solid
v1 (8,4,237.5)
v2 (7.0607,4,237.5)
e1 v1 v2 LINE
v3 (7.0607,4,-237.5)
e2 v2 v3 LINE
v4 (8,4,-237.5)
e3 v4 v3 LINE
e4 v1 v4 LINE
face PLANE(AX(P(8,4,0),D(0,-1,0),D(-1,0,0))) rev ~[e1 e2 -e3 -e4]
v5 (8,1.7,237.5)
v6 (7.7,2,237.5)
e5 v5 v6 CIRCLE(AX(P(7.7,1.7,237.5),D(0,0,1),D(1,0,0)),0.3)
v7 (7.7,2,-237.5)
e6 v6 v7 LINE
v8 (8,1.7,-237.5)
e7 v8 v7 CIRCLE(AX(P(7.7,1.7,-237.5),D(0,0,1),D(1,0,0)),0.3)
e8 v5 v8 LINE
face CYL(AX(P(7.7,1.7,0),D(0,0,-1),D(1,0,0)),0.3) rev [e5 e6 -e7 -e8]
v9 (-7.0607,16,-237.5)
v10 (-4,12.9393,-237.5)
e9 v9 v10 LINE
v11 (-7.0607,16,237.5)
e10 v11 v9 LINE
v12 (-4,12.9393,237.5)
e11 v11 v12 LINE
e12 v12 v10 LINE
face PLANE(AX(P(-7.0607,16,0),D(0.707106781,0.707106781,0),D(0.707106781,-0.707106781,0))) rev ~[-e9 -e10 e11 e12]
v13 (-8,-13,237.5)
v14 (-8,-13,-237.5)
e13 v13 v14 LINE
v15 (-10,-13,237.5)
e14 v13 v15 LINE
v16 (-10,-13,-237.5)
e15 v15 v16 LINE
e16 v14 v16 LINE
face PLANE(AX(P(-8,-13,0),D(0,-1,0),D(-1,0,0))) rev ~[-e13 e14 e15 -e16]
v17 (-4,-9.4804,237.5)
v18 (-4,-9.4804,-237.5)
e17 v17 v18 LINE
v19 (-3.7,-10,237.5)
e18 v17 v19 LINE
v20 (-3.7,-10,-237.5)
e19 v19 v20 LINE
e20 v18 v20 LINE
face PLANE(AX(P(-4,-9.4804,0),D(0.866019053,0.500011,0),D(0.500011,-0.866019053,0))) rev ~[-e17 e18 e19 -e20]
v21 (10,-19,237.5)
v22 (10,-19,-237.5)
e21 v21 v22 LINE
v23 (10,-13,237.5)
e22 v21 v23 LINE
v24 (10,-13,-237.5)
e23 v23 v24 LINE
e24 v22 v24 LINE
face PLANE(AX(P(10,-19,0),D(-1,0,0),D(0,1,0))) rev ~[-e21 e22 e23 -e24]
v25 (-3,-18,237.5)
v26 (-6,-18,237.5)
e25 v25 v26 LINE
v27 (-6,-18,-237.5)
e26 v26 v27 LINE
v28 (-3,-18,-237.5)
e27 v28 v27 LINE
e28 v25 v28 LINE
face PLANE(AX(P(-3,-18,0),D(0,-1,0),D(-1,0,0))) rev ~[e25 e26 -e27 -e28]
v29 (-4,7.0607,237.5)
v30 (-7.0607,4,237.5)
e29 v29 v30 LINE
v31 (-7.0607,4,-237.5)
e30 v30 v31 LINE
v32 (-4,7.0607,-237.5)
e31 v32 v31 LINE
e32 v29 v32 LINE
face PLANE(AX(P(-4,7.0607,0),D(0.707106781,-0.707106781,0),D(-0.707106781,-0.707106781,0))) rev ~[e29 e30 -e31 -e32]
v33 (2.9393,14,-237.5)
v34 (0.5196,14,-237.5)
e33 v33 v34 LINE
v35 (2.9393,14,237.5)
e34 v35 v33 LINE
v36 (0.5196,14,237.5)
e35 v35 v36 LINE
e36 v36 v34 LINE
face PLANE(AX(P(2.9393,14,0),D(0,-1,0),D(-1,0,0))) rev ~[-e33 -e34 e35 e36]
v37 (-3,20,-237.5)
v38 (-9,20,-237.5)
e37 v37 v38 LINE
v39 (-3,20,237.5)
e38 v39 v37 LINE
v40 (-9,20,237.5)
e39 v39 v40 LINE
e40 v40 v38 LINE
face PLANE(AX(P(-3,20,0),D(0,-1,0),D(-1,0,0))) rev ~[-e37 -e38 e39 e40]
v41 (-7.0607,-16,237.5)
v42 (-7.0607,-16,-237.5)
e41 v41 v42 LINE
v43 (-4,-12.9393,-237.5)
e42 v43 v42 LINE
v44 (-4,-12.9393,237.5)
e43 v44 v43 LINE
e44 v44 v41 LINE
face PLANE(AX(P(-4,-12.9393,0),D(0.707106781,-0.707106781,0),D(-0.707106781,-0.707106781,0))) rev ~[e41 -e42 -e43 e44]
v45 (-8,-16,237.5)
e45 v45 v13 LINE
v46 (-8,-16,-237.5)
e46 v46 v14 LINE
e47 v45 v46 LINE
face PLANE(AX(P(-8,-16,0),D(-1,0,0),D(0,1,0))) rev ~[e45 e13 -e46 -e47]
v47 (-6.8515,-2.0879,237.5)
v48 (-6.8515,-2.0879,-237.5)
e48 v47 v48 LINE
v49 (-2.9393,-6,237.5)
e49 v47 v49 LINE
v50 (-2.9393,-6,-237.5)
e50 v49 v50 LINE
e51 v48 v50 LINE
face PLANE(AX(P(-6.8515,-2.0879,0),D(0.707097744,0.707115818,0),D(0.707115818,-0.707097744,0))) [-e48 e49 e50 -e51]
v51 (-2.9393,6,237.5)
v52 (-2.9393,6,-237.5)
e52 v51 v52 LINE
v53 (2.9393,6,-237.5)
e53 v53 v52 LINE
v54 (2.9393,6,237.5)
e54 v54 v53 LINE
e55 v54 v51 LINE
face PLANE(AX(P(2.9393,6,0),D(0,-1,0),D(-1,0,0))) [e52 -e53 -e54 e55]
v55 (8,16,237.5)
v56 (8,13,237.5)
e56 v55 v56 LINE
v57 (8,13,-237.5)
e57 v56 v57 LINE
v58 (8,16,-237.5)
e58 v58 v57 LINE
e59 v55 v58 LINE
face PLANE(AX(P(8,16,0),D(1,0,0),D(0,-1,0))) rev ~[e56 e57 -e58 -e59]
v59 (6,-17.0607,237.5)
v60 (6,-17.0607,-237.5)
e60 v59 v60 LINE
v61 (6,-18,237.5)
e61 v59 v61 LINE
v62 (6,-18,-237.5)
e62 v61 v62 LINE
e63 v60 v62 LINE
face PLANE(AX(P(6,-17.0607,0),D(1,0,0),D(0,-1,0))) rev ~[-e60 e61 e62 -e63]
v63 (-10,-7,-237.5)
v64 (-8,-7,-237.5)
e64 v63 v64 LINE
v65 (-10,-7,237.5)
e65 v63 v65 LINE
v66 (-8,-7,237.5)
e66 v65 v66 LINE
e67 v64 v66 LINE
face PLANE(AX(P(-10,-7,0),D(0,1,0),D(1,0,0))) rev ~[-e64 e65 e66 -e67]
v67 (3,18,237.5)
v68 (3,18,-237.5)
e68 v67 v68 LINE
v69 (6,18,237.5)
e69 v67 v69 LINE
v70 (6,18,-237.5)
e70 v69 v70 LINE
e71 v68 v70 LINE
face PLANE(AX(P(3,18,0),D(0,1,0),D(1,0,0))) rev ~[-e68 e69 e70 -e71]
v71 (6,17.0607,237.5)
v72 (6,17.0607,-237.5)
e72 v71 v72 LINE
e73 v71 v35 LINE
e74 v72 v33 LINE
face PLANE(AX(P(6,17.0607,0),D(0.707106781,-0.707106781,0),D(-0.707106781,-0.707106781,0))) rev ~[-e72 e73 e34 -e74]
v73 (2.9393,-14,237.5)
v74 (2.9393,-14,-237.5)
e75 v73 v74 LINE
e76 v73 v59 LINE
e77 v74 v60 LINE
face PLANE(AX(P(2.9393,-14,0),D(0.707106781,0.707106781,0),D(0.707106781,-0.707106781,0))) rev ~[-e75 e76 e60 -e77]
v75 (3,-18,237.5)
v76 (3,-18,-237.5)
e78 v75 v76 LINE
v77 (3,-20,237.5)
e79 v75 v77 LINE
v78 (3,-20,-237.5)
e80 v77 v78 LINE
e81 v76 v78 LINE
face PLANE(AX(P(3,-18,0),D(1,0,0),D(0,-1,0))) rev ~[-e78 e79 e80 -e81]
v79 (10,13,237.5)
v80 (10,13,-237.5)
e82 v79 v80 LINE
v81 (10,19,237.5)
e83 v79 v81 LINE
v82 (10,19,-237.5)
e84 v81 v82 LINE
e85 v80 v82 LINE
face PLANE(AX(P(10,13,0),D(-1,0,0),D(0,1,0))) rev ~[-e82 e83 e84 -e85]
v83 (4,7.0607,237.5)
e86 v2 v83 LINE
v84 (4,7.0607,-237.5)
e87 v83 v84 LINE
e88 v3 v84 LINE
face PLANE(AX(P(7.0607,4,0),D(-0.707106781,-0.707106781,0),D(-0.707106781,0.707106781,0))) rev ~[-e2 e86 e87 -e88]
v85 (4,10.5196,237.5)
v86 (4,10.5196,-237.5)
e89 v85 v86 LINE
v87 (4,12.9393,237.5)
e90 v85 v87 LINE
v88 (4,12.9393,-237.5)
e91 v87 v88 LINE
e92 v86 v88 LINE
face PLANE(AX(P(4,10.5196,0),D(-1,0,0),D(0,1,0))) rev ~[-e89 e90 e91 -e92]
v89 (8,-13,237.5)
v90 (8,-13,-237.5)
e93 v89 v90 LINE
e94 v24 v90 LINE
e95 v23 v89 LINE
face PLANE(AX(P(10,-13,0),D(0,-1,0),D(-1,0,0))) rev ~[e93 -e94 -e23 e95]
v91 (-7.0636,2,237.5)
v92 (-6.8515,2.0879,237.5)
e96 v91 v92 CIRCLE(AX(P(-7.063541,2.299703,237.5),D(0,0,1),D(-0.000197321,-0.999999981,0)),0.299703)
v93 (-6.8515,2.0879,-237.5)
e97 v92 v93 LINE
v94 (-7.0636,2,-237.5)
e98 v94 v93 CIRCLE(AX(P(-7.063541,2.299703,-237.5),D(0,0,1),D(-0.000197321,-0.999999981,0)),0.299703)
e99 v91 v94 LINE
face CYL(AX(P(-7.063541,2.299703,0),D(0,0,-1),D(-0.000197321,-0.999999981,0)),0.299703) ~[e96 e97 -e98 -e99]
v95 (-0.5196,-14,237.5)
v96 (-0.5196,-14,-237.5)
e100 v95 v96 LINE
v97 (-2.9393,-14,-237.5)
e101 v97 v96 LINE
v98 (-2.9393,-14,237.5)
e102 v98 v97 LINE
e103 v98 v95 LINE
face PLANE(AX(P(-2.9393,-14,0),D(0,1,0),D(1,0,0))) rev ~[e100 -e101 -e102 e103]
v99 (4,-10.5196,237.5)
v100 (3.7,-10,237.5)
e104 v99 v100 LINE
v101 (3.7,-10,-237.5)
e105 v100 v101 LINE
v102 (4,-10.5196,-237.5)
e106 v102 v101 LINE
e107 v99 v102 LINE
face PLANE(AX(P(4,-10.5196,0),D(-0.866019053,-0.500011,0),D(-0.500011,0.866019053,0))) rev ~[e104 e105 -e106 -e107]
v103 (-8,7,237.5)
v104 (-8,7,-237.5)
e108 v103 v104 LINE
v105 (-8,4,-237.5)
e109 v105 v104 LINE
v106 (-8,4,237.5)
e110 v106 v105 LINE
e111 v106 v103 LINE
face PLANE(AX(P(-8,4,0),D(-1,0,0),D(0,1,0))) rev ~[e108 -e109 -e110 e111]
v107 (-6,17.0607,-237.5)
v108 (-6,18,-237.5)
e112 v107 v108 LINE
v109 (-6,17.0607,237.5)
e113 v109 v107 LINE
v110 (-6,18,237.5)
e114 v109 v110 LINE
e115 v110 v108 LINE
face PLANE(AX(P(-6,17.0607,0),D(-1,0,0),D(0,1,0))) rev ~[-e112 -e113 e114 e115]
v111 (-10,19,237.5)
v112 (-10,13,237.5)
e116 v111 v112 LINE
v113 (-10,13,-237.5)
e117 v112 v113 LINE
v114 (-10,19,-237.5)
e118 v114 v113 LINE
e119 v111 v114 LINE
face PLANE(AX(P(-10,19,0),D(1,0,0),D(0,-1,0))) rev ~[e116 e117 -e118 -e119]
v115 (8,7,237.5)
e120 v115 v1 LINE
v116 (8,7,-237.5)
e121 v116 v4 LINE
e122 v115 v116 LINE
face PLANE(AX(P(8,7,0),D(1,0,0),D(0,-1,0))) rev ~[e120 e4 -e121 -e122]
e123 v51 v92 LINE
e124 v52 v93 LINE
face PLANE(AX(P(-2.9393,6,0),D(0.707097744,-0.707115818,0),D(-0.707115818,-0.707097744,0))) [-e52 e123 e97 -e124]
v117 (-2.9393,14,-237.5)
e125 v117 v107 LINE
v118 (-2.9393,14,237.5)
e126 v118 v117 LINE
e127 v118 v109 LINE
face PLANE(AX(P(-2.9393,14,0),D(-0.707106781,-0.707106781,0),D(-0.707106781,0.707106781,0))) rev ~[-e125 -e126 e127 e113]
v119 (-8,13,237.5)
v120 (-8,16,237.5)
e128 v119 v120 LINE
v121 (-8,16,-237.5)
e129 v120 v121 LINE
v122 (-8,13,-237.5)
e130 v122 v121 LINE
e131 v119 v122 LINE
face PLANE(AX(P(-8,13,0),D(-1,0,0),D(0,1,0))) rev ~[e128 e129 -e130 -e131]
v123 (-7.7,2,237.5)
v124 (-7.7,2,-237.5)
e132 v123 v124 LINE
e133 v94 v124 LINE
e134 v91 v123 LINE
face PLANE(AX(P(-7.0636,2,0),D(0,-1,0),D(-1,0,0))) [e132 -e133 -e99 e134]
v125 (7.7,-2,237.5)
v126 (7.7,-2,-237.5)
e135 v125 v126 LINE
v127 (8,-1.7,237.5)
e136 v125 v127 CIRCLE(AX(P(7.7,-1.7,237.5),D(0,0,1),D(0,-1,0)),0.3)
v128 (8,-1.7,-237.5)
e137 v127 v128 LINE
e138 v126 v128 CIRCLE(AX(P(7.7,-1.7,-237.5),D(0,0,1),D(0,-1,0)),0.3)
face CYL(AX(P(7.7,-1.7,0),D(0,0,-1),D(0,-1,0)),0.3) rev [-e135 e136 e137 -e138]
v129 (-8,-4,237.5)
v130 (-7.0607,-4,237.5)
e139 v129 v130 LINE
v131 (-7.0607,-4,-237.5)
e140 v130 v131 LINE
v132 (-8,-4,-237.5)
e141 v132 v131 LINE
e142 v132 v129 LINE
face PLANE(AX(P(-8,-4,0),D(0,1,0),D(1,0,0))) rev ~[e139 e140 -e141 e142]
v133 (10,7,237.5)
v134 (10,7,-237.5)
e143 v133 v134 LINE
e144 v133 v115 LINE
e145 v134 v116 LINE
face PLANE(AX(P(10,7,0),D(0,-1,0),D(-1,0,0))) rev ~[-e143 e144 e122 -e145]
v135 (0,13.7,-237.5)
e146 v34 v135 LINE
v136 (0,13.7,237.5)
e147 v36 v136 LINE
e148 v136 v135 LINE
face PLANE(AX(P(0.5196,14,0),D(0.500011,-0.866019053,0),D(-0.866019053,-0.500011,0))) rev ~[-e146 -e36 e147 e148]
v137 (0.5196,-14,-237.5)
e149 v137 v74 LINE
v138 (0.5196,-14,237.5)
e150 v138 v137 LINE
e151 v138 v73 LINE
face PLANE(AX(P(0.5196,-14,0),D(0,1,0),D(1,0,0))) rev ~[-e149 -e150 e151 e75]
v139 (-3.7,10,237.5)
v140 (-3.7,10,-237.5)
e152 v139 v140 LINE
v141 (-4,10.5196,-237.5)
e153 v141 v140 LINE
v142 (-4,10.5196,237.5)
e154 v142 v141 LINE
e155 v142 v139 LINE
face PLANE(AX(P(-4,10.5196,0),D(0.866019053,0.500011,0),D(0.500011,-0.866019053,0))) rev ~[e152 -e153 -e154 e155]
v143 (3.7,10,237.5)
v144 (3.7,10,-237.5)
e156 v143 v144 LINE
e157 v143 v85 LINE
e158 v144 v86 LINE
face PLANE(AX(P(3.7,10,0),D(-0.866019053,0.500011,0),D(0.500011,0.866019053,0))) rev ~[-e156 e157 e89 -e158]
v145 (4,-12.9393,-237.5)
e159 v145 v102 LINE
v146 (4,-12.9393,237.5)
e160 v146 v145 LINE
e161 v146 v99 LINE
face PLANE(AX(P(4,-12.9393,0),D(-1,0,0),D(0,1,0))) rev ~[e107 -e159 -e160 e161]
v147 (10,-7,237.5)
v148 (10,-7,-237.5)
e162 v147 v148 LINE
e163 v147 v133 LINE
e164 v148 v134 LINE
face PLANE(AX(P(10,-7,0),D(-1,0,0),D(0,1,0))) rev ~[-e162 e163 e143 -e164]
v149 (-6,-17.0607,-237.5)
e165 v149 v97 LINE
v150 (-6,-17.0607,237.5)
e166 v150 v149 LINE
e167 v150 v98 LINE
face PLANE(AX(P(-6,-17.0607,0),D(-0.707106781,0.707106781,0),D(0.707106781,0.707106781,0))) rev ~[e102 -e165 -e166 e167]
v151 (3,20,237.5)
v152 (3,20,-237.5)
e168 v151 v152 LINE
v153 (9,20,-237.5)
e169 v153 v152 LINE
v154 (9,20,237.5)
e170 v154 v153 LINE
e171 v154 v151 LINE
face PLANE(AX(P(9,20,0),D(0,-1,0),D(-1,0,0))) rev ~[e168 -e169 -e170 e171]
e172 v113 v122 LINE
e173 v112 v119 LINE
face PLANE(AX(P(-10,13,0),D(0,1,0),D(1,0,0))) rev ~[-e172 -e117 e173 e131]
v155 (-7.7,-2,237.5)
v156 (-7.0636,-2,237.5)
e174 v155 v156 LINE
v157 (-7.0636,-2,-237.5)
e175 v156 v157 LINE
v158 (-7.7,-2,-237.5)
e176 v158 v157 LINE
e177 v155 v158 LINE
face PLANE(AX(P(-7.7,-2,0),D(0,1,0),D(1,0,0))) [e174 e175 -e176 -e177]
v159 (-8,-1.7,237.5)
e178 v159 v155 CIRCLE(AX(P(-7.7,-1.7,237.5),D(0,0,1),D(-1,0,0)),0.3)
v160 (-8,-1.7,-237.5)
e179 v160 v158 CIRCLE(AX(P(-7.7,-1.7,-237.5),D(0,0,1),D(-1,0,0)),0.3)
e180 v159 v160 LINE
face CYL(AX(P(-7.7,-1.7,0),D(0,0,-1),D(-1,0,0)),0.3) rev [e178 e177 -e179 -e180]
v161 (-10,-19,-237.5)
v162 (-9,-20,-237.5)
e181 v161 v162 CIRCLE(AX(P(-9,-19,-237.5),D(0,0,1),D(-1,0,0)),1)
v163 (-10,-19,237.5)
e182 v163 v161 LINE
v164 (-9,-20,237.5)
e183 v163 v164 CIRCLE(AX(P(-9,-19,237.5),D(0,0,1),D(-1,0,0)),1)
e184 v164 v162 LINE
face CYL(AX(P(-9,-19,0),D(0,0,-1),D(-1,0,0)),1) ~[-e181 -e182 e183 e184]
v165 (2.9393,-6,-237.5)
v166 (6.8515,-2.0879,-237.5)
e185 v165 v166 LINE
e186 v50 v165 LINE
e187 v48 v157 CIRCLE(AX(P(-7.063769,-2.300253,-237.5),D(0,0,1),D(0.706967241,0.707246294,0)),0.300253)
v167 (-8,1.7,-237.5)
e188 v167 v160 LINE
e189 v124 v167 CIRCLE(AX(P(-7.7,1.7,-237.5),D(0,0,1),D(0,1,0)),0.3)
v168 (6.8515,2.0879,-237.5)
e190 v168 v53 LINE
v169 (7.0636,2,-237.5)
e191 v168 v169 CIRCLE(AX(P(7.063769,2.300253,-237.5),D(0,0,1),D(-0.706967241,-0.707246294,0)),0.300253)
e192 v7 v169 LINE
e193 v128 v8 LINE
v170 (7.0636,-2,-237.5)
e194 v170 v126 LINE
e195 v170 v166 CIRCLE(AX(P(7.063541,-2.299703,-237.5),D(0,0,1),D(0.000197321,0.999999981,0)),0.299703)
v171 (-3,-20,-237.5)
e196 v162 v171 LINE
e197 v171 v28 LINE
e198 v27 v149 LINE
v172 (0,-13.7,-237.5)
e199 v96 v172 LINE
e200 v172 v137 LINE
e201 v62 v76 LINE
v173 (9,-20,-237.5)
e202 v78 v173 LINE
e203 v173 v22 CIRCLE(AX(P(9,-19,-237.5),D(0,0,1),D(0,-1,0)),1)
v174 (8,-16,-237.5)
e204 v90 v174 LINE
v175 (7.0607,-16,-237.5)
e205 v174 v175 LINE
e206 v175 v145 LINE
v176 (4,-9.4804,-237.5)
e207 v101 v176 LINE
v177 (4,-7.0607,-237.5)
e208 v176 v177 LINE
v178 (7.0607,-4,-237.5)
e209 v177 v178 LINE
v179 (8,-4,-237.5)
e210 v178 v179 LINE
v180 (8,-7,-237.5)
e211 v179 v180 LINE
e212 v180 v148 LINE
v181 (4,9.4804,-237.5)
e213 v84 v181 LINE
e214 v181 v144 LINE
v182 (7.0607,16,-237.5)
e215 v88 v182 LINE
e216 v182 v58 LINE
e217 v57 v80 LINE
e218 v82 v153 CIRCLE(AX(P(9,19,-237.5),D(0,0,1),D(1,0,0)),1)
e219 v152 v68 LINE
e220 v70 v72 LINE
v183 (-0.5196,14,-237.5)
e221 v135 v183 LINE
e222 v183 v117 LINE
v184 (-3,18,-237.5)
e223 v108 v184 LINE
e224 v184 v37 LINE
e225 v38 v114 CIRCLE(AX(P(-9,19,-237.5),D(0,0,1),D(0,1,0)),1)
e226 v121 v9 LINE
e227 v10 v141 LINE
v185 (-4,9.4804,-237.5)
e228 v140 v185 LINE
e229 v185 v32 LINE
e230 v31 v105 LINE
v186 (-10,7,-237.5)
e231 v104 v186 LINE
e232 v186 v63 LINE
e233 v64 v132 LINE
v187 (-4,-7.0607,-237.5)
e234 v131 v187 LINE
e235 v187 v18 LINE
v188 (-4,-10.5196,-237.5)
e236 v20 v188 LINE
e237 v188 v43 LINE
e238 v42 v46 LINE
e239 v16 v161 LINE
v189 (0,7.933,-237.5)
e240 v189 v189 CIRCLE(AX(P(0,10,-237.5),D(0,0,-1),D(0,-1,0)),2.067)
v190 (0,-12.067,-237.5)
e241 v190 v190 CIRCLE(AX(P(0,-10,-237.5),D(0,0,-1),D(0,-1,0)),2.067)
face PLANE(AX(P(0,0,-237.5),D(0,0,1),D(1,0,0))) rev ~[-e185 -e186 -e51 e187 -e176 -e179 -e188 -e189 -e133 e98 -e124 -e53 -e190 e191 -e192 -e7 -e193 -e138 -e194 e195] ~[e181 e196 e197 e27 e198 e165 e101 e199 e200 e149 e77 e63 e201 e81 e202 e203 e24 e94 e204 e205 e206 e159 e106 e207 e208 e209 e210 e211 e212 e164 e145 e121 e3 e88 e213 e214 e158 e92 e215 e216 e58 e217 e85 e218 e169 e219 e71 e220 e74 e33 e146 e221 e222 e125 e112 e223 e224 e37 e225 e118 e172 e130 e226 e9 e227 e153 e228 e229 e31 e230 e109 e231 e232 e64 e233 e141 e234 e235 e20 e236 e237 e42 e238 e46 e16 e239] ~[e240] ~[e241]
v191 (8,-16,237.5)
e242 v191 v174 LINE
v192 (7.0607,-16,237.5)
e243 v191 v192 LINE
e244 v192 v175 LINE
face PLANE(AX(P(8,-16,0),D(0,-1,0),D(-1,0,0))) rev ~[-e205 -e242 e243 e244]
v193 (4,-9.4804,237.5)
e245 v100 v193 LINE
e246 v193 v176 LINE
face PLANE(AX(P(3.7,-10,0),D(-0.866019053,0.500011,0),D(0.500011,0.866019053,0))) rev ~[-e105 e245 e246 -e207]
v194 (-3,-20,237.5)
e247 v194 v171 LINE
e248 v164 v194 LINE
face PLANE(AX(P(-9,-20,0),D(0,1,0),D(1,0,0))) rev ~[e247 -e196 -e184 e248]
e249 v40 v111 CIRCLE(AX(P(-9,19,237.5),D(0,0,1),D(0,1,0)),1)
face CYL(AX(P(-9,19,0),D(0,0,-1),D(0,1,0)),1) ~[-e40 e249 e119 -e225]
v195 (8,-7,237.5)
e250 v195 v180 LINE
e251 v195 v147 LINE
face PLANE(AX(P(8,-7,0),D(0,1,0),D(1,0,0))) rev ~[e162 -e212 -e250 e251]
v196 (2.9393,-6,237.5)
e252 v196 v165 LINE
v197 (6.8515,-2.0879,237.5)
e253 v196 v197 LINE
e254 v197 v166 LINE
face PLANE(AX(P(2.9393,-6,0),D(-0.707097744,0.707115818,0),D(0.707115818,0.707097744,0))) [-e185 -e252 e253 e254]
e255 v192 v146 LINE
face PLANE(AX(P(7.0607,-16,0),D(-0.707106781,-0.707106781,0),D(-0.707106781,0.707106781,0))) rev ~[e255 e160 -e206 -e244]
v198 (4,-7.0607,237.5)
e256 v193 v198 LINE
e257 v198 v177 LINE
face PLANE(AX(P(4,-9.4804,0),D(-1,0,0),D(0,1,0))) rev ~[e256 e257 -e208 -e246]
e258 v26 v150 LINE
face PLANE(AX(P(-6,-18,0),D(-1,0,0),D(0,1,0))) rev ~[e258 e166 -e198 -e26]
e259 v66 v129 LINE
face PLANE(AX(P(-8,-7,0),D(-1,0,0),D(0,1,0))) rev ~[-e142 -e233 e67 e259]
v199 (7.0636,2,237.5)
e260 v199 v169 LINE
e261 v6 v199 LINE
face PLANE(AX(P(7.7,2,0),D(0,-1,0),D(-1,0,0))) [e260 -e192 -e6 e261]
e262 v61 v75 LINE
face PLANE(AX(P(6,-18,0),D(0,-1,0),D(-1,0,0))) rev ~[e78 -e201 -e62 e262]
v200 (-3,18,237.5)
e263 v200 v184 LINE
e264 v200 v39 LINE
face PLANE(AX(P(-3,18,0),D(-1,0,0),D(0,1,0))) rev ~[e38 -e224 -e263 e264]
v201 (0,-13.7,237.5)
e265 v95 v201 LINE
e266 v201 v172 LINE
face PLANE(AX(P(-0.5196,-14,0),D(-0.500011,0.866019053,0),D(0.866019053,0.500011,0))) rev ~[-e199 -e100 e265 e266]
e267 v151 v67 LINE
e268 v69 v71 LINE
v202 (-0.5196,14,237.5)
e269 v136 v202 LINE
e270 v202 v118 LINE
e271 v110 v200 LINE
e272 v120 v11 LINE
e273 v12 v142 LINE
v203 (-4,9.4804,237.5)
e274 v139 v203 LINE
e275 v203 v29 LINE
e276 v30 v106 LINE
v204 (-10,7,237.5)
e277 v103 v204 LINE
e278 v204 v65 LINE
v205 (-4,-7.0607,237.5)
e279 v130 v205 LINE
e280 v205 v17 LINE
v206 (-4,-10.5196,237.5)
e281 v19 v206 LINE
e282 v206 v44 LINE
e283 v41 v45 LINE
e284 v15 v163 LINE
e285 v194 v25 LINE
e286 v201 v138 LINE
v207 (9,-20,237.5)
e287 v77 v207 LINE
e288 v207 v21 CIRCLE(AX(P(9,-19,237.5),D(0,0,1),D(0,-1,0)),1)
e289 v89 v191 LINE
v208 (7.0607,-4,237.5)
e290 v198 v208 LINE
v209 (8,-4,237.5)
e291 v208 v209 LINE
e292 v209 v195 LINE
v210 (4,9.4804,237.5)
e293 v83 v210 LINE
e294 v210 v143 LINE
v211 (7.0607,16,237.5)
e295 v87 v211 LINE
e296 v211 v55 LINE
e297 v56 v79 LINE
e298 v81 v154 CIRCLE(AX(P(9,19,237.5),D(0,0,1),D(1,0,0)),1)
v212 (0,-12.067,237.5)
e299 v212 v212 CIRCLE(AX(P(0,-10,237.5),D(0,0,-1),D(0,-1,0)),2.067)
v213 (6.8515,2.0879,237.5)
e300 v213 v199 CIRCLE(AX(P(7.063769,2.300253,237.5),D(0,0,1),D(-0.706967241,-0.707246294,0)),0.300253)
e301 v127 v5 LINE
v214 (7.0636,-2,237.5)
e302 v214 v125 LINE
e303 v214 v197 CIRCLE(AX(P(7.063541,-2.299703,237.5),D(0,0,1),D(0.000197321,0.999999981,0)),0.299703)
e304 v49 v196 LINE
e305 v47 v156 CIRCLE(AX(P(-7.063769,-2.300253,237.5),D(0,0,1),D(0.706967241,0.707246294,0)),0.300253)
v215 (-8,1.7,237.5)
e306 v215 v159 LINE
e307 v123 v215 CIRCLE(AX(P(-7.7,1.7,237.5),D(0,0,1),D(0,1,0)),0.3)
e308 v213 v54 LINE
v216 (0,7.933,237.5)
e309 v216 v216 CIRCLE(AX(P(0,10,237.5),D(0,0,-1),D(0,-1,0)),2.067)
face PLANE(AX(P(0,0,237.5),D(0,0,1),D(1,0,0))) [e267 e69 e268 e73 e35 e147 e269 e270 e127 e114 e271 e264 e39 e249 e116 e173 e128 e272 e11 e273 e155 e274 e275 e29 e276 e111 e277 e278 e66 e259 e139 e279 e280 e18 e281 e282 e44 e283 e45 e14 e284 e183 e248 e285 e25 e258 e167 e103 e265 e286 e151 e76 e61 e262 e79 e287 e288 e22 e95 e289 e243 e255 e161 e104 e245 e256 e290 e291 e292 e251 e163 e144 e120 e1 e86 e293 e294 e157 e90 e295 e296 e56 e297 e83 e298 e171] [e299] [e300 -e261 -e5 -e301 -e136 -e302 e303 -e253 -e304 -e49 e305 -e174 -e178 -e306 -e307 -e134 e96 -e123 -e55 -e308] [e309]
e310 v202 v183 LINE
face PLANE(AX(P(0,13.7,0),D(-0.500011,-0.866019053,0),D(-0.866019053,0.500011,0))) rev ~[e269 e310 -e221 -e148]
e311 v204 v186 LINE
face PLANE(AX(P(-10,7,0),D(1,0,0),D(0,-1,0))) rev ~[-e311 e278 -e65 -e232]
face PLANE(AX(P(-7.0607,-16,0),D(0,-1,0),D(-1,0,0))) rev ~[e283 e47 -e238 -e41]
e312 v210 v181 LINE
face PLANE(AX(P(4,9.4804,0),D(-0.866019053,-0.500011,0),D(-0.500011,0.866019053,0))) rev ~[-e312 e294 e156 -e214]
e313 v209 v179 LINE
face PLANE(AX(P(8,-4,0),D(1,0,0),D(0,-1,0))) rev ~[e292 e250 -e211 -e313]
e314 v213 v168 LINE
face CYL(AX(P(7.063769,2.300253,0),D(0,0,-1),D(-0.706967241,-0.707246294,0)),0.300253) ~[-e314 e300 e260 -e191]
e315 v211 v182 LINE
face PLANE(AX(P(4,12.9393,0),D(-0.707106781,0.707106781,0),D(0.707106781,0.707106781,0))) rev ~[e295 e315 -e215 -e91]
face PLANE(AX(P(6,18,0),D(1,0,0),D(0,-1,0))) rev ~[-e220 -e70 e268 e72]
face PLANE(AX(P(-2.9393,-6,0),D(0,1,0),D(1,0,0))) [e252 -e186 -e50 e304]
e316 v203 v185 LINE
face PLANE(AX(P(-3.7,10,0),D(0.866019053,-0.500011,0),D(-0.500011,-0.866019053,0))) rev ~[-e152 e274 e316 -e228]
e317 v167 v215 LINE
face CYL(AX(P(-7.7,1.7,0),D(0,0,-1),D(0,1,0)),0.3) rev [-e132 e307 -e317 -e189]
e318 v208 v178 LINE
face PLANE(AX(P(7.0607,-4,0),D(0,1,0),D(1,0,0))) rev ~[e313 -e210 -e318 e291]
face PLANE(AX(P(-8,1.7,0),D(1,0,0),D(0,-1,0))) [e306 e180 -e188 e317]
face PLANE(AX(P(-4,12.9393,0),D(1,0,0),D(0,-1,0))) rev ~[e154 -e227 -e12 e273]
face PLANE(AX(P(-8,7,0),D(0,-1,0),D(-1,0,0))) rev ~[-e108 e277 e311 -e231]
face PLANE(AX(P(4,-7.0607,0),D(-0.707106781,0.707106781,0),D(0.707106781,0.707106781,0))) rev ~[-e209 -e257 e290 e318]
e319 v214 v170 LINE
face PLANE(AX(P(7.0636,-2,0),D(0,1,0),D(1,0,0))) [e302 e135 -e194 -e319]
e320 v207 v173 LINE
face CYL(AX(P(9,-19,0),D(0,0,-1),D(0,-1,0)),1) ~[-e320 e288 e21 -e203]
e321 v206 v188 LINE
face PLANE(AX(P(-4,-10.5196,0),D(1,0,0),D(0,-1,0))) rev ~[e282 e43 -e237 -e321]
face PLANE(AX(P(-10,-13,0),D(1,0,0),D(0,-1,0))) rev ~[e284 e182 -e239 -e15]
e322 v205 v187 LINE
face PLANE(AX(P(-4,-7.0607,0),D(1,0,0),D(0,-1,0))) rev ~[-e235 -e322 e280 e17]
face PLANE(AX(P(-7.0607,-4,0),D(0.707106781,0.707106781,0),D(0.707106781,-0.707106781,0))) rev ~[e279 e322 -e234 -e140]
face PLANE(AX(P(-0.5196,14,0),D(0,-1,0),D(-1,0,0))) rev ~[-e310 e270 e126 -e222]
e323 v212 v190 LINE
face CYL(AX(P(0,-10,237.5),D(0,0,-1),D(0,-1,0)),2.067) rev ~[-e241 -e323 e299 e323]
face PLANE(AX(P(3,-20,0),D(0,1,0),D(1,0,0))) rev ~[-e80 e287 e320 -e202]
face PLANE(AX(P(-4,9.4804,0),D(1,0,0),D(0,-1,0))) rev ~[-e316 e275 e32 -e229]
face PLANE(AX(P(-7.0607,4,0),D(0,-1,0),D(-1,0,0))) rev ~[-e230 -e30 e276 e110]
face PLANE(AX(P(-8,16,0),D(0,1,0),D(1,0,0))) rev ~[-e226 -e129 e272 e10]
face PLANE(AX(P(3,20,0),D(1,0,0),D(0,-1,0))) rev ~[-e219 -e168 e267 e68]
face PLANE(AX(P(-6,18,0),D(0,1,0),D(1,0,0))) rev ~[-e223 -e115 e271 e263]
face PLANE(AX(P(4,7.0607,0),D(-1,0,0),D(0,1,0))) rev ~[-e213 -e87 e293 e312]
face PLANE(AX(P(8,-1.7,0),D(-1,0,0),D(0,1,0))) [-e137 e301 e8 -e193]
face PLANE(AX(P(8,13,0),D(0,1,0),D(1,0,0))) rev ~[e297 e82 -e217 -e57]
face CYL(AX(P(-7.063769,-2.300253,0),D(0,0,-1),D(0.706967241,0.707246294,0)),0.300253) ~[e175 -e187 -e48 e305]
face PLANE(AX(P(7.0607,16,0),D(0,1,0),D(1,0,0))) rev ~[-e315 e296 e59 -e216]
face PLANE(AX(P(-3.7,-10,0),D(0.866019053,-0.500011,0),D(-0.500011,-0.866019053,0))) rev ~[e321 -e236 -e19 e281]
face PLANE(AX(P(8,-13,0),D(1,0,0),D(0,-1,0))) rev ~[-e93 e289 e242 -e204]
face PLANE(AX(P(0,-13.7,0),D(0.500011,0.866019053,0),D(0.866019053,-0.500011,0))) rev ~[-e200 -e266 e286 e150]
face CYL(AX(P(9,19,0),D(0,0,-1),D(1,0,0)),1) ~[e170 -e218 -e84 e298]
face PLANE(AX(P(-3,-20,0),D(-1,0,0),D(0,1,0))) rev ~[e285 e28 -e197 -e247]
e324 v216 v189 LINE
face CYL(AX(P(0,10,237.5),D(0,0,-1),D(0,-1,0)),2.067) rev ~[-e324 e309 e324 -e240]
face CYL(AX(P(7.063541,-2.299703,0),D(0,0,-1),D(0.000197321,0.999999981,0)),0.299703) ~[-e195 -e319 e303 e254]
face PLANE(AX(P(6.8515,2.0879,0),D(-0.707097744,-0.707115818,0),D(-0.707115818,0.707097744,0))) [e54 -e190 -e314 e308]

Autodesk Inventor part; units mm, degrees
sketch "Sketch_1" plane through (0, 0, 0) normal (0, 0, 1) x (1, 0, 0)
  line L0 (-10, -7) -> (-8, -7)
  line L1 (-8, -7) -> (-8, -4)
  line L2 (-8, -4) -> (-7.0607, -4)
  line L3 (-7.0607, -4) -> (-4, -7.0607)
  line L4 (-4, -7.0607) -> (-4, -9.4804)
  line L5 (-4, -9.4804) -> (-3.7, -10)
  line L6 (-3.7, -10) -> (-4, -10.5196)
  line L7 (-4, -10.5196) -> (-4, -12.9393)
  line L8 (-4, -12.9393) -> (-7.0607, -16)
  line L9 (-7.0607, -16) -> (-8, -16)
  line L10 (-8, -16) -> (-8, -13)
  line L11 (-8, -13) -> (-10, -13)
  line L12 (-10, -13) -> (-10, -19)
  arc A0 (-10, -19) -> (-9, -20) centre (-9, -19) ccw
  line L13 (-9, -20) -> (-3, -20)
  line L14 (-3, -20) -> (-3, -18)
  line L15 (-3, -18) -> (-6, -18)
  line L16 (-6, -18) -> (-6, -17.0607)
  line L17 (-6, -17.0607) -> (-2.9393, -14)
  line L18 (-2.9393, -14) -> (-0.5196, -14)
  line L19 (-0.5196, -14) -> (0, -13.7)
  line L20 (0, -13.7) -> (0.5196, -14)
  line L21 (0.5196, -14) -> (2.9393, -14)
  line L22 (2.9393, -14) -> (6, -17.0607)
  line L23 (6, -17.0607) -> (6, -18)
  line L24 (6, -18) -> (3, -18)
  line L25 (3, -18) -> (3, -20)
  line L26 (3, -20) -> (9, -20)
  arc A1 (9, -20) -> (10, -19) centre (9, -19) ccw
  line L27 (10, -19) -> (10, -13)
  line L28 (10, -13) -> (8, -13)
  line L29 (8, -13) -> (8, -16)
  line L30 (8, -16) -> (7.0607, -16)
  line L31 (7.0607, -16) -> (4, -12.9393)
  line L32 (4, -12.9393) -> (4, -10.5196)
  line L33 (4, -10.5196) -> (3.7, -10)
  line L34 (3.7, -10) -> (4, -9.4804)
  line L35 (4, -9.4804) -> (4, -7.0607)
  line L36 (4, -7.0607) -> (7.0607, -4)
  line L37 (7.0607, -4) -> (8, -4)
  line L38 (8, -4) -> (8, -7)
  line L39 (8, -7) -> (10, -7)
  line L40 (10, -7) -> (10, 7)
  line L41 (10, 7) -> (8, 7)
  line L42 (8, 7) -> (8, 4)
  line L43 (8, 4) -> (7.0607, 4)
  line L44 (7.0607, 4) -> (4, 7.0607)
  line L45 (4, 7.0607) -> (4, 9.4804)
  line L46 (4, 9.4804) -> (3.7, 10)
  line L47 (3.7, 10) -> (4, 10.5196)
  line L48 (4, 10.5196) -> (4, 12.9393)
  line L49 (4, 12.9393) -> (7.0607, 16)
  line L50 (7.0607, 16) -> (8, 16)
  line L51 (8, 16) -> (8, 13)
  line L52 (8, 13) -> (10, 13)
  line L53 (10, 13) -> (10, 19)
  arc A2 (10, 19) -> (9, 20) centre (9, 19) ccw
  line L54 (9, 20) -> (3, 20)
  line L55 (3, 20) -> (3, 18)
  line L56 (3, 18) -> (6, 18)
  line L57 (6, 18) -> (6, 17.0607)
  line L58 (6, 17.0607) -> (2.9393, 14)
  line L59 (2.9393, 14) -> (0.5196, 14)
  line L60 (0.5196, 14) -> (0, 13.7)
  line L61 (0, 13.7) -> (-0.5196, 14)
  line L62 (-0.5196, 14) -> (-2.9393, 14)
  line L63 (-2.9393, 14) -> (-6, 17.0607)
  line L64 (-6, 17.0607) -> (-6, 18)
  line L65 (-6, 18) -> (-3, 18)
  line L66 (-3, 18) -> (-3, 20)
  line L67 (-3, 20) -> (-9, 20)
  arc A3 (-9, 20) -> (-10, 19) centre (-9, 19) ccw
  line L68 (-10, 19) -> (-10, 13)
  line L69 (-10, 13) -> (-8, 13)
  line L70 (-8, 13) -> (-8, 16)
  line L71 (-8, 16) -> (-7.0607, 16)
  line L72 (-7.0607, 16) -> (-4, 12.9393)
  line L73 (-4, 12.9393) -> (-4, 10.5196)
  line L74 (-4, 10.5196) -> (-3.7, 10)
  line L75 (-3.7, 10) -> (-4, 9.4804)
  line L76 (-4, 9.4804) -> (-4, 7.0607)
  line L77 (-4, 7.0607) -> (-7.0607, 4)
  line L78 (-7.0607, 4) -> (-8, 4)
  line L79 (-8, 4) -> (-8, 7)
  line L80 (-8, 7) -> (-10, 7)
  line L81 (-10, 7) -> (-10, -7)
  line L82 (-8, 1.7) -> (-8, -1.7)
  arc A4 (-8, -1.7) -> (-7.7, -2) centre (-7.7, -1.7) ccw
  line L83 (-7.7, -2) -> (-7.0636, -2)
  arc A5 (-6.8515, -2.0879) -> (-7.0636, -2) centre (-7.0636, -2.3) ccw
  line L84 (-6.8515, -2.0879) -> (-2.9393, -6)
  line L85 (-2.9393, -6) -> (2.9393, -6)
  line L86 (2.9393, -6) -> (6.8515, -2.0879)
  arc A6 (7.0636, -2) -> (6.8515, -2.0879) centre (7.0636, -2.3) ccw
  line L87 (7.0636, -2) -> (7.7, -2)
  arc A7 (7.7, -2) -> (8, -1.7) centre (7.7, -1.7) ccw
  line L88 (8, -1.7) -> (8, 1.7)
  arc A8 (8, 1.7) -> (7.7, 2) centre (7.7, 1.7) ccw
  line L89 (7.7, 2) -> (7.0636, 2)
  arc A9 (6.8515, 2.0879) -> (7.0636, 2) centre (7.0636, 2.3) ccw
  line L90 (6.8515, 2.0879) -> (2.9393, 6)
  line L91 (2.9393, 6) -> (-2.9393, 6)
  line L92 (-2.9393, 6) -> (-6.8515, 2.0879)
  arc A10 (-7.0636, 2) -> (-6.8515, 2.0879) centre (-7.0636, 2.3) ccw
  line L93 (-7.0636, 2) -> (-7.7, 2)
  arc A11 (-7.7, 2) -> (-8, 1.7) centre (-7.7, 1.7) ccw
extrude "Extrusion1" add sketch "Sketch_1" along normal mid plane 475
sketch "Sketch2" plane through (0, 0, 237.5) normal (0, 0, 1) x (-1, 0, 0)
  point P0 (0, 10)
hole "Hole1" at (0, -10, 237.5) direction (0, 0, -1) diameter 4.134 end through all thread size "M5x0.8" class "6H" standard "ANSI Metric M Profile"
pattern_linear "Rectangular Pattern1" count 2 spacing 20 along (0, 1, 0) of "Hole1"
ref_plane "C1_XY" through (0, 0, 0) normal (0, 0, 1) x (1, 0, 0)
ref_plane "C1_YZ" through (0, 0, 0) normal (1, 0, 0) x (0, 1, 0)
ref_plane "C1_ZX" through (0, 0, 0) normal (0, 1, 0) x (0, 0, 1)
mirror "Mirror1" about plane through (0, 0, 0) normal (0, 0, 1) of "Hole1", "Rectangular Pattern1"
properties part number "HFS5-2040-475-SC" material "Aluminum 6061"
